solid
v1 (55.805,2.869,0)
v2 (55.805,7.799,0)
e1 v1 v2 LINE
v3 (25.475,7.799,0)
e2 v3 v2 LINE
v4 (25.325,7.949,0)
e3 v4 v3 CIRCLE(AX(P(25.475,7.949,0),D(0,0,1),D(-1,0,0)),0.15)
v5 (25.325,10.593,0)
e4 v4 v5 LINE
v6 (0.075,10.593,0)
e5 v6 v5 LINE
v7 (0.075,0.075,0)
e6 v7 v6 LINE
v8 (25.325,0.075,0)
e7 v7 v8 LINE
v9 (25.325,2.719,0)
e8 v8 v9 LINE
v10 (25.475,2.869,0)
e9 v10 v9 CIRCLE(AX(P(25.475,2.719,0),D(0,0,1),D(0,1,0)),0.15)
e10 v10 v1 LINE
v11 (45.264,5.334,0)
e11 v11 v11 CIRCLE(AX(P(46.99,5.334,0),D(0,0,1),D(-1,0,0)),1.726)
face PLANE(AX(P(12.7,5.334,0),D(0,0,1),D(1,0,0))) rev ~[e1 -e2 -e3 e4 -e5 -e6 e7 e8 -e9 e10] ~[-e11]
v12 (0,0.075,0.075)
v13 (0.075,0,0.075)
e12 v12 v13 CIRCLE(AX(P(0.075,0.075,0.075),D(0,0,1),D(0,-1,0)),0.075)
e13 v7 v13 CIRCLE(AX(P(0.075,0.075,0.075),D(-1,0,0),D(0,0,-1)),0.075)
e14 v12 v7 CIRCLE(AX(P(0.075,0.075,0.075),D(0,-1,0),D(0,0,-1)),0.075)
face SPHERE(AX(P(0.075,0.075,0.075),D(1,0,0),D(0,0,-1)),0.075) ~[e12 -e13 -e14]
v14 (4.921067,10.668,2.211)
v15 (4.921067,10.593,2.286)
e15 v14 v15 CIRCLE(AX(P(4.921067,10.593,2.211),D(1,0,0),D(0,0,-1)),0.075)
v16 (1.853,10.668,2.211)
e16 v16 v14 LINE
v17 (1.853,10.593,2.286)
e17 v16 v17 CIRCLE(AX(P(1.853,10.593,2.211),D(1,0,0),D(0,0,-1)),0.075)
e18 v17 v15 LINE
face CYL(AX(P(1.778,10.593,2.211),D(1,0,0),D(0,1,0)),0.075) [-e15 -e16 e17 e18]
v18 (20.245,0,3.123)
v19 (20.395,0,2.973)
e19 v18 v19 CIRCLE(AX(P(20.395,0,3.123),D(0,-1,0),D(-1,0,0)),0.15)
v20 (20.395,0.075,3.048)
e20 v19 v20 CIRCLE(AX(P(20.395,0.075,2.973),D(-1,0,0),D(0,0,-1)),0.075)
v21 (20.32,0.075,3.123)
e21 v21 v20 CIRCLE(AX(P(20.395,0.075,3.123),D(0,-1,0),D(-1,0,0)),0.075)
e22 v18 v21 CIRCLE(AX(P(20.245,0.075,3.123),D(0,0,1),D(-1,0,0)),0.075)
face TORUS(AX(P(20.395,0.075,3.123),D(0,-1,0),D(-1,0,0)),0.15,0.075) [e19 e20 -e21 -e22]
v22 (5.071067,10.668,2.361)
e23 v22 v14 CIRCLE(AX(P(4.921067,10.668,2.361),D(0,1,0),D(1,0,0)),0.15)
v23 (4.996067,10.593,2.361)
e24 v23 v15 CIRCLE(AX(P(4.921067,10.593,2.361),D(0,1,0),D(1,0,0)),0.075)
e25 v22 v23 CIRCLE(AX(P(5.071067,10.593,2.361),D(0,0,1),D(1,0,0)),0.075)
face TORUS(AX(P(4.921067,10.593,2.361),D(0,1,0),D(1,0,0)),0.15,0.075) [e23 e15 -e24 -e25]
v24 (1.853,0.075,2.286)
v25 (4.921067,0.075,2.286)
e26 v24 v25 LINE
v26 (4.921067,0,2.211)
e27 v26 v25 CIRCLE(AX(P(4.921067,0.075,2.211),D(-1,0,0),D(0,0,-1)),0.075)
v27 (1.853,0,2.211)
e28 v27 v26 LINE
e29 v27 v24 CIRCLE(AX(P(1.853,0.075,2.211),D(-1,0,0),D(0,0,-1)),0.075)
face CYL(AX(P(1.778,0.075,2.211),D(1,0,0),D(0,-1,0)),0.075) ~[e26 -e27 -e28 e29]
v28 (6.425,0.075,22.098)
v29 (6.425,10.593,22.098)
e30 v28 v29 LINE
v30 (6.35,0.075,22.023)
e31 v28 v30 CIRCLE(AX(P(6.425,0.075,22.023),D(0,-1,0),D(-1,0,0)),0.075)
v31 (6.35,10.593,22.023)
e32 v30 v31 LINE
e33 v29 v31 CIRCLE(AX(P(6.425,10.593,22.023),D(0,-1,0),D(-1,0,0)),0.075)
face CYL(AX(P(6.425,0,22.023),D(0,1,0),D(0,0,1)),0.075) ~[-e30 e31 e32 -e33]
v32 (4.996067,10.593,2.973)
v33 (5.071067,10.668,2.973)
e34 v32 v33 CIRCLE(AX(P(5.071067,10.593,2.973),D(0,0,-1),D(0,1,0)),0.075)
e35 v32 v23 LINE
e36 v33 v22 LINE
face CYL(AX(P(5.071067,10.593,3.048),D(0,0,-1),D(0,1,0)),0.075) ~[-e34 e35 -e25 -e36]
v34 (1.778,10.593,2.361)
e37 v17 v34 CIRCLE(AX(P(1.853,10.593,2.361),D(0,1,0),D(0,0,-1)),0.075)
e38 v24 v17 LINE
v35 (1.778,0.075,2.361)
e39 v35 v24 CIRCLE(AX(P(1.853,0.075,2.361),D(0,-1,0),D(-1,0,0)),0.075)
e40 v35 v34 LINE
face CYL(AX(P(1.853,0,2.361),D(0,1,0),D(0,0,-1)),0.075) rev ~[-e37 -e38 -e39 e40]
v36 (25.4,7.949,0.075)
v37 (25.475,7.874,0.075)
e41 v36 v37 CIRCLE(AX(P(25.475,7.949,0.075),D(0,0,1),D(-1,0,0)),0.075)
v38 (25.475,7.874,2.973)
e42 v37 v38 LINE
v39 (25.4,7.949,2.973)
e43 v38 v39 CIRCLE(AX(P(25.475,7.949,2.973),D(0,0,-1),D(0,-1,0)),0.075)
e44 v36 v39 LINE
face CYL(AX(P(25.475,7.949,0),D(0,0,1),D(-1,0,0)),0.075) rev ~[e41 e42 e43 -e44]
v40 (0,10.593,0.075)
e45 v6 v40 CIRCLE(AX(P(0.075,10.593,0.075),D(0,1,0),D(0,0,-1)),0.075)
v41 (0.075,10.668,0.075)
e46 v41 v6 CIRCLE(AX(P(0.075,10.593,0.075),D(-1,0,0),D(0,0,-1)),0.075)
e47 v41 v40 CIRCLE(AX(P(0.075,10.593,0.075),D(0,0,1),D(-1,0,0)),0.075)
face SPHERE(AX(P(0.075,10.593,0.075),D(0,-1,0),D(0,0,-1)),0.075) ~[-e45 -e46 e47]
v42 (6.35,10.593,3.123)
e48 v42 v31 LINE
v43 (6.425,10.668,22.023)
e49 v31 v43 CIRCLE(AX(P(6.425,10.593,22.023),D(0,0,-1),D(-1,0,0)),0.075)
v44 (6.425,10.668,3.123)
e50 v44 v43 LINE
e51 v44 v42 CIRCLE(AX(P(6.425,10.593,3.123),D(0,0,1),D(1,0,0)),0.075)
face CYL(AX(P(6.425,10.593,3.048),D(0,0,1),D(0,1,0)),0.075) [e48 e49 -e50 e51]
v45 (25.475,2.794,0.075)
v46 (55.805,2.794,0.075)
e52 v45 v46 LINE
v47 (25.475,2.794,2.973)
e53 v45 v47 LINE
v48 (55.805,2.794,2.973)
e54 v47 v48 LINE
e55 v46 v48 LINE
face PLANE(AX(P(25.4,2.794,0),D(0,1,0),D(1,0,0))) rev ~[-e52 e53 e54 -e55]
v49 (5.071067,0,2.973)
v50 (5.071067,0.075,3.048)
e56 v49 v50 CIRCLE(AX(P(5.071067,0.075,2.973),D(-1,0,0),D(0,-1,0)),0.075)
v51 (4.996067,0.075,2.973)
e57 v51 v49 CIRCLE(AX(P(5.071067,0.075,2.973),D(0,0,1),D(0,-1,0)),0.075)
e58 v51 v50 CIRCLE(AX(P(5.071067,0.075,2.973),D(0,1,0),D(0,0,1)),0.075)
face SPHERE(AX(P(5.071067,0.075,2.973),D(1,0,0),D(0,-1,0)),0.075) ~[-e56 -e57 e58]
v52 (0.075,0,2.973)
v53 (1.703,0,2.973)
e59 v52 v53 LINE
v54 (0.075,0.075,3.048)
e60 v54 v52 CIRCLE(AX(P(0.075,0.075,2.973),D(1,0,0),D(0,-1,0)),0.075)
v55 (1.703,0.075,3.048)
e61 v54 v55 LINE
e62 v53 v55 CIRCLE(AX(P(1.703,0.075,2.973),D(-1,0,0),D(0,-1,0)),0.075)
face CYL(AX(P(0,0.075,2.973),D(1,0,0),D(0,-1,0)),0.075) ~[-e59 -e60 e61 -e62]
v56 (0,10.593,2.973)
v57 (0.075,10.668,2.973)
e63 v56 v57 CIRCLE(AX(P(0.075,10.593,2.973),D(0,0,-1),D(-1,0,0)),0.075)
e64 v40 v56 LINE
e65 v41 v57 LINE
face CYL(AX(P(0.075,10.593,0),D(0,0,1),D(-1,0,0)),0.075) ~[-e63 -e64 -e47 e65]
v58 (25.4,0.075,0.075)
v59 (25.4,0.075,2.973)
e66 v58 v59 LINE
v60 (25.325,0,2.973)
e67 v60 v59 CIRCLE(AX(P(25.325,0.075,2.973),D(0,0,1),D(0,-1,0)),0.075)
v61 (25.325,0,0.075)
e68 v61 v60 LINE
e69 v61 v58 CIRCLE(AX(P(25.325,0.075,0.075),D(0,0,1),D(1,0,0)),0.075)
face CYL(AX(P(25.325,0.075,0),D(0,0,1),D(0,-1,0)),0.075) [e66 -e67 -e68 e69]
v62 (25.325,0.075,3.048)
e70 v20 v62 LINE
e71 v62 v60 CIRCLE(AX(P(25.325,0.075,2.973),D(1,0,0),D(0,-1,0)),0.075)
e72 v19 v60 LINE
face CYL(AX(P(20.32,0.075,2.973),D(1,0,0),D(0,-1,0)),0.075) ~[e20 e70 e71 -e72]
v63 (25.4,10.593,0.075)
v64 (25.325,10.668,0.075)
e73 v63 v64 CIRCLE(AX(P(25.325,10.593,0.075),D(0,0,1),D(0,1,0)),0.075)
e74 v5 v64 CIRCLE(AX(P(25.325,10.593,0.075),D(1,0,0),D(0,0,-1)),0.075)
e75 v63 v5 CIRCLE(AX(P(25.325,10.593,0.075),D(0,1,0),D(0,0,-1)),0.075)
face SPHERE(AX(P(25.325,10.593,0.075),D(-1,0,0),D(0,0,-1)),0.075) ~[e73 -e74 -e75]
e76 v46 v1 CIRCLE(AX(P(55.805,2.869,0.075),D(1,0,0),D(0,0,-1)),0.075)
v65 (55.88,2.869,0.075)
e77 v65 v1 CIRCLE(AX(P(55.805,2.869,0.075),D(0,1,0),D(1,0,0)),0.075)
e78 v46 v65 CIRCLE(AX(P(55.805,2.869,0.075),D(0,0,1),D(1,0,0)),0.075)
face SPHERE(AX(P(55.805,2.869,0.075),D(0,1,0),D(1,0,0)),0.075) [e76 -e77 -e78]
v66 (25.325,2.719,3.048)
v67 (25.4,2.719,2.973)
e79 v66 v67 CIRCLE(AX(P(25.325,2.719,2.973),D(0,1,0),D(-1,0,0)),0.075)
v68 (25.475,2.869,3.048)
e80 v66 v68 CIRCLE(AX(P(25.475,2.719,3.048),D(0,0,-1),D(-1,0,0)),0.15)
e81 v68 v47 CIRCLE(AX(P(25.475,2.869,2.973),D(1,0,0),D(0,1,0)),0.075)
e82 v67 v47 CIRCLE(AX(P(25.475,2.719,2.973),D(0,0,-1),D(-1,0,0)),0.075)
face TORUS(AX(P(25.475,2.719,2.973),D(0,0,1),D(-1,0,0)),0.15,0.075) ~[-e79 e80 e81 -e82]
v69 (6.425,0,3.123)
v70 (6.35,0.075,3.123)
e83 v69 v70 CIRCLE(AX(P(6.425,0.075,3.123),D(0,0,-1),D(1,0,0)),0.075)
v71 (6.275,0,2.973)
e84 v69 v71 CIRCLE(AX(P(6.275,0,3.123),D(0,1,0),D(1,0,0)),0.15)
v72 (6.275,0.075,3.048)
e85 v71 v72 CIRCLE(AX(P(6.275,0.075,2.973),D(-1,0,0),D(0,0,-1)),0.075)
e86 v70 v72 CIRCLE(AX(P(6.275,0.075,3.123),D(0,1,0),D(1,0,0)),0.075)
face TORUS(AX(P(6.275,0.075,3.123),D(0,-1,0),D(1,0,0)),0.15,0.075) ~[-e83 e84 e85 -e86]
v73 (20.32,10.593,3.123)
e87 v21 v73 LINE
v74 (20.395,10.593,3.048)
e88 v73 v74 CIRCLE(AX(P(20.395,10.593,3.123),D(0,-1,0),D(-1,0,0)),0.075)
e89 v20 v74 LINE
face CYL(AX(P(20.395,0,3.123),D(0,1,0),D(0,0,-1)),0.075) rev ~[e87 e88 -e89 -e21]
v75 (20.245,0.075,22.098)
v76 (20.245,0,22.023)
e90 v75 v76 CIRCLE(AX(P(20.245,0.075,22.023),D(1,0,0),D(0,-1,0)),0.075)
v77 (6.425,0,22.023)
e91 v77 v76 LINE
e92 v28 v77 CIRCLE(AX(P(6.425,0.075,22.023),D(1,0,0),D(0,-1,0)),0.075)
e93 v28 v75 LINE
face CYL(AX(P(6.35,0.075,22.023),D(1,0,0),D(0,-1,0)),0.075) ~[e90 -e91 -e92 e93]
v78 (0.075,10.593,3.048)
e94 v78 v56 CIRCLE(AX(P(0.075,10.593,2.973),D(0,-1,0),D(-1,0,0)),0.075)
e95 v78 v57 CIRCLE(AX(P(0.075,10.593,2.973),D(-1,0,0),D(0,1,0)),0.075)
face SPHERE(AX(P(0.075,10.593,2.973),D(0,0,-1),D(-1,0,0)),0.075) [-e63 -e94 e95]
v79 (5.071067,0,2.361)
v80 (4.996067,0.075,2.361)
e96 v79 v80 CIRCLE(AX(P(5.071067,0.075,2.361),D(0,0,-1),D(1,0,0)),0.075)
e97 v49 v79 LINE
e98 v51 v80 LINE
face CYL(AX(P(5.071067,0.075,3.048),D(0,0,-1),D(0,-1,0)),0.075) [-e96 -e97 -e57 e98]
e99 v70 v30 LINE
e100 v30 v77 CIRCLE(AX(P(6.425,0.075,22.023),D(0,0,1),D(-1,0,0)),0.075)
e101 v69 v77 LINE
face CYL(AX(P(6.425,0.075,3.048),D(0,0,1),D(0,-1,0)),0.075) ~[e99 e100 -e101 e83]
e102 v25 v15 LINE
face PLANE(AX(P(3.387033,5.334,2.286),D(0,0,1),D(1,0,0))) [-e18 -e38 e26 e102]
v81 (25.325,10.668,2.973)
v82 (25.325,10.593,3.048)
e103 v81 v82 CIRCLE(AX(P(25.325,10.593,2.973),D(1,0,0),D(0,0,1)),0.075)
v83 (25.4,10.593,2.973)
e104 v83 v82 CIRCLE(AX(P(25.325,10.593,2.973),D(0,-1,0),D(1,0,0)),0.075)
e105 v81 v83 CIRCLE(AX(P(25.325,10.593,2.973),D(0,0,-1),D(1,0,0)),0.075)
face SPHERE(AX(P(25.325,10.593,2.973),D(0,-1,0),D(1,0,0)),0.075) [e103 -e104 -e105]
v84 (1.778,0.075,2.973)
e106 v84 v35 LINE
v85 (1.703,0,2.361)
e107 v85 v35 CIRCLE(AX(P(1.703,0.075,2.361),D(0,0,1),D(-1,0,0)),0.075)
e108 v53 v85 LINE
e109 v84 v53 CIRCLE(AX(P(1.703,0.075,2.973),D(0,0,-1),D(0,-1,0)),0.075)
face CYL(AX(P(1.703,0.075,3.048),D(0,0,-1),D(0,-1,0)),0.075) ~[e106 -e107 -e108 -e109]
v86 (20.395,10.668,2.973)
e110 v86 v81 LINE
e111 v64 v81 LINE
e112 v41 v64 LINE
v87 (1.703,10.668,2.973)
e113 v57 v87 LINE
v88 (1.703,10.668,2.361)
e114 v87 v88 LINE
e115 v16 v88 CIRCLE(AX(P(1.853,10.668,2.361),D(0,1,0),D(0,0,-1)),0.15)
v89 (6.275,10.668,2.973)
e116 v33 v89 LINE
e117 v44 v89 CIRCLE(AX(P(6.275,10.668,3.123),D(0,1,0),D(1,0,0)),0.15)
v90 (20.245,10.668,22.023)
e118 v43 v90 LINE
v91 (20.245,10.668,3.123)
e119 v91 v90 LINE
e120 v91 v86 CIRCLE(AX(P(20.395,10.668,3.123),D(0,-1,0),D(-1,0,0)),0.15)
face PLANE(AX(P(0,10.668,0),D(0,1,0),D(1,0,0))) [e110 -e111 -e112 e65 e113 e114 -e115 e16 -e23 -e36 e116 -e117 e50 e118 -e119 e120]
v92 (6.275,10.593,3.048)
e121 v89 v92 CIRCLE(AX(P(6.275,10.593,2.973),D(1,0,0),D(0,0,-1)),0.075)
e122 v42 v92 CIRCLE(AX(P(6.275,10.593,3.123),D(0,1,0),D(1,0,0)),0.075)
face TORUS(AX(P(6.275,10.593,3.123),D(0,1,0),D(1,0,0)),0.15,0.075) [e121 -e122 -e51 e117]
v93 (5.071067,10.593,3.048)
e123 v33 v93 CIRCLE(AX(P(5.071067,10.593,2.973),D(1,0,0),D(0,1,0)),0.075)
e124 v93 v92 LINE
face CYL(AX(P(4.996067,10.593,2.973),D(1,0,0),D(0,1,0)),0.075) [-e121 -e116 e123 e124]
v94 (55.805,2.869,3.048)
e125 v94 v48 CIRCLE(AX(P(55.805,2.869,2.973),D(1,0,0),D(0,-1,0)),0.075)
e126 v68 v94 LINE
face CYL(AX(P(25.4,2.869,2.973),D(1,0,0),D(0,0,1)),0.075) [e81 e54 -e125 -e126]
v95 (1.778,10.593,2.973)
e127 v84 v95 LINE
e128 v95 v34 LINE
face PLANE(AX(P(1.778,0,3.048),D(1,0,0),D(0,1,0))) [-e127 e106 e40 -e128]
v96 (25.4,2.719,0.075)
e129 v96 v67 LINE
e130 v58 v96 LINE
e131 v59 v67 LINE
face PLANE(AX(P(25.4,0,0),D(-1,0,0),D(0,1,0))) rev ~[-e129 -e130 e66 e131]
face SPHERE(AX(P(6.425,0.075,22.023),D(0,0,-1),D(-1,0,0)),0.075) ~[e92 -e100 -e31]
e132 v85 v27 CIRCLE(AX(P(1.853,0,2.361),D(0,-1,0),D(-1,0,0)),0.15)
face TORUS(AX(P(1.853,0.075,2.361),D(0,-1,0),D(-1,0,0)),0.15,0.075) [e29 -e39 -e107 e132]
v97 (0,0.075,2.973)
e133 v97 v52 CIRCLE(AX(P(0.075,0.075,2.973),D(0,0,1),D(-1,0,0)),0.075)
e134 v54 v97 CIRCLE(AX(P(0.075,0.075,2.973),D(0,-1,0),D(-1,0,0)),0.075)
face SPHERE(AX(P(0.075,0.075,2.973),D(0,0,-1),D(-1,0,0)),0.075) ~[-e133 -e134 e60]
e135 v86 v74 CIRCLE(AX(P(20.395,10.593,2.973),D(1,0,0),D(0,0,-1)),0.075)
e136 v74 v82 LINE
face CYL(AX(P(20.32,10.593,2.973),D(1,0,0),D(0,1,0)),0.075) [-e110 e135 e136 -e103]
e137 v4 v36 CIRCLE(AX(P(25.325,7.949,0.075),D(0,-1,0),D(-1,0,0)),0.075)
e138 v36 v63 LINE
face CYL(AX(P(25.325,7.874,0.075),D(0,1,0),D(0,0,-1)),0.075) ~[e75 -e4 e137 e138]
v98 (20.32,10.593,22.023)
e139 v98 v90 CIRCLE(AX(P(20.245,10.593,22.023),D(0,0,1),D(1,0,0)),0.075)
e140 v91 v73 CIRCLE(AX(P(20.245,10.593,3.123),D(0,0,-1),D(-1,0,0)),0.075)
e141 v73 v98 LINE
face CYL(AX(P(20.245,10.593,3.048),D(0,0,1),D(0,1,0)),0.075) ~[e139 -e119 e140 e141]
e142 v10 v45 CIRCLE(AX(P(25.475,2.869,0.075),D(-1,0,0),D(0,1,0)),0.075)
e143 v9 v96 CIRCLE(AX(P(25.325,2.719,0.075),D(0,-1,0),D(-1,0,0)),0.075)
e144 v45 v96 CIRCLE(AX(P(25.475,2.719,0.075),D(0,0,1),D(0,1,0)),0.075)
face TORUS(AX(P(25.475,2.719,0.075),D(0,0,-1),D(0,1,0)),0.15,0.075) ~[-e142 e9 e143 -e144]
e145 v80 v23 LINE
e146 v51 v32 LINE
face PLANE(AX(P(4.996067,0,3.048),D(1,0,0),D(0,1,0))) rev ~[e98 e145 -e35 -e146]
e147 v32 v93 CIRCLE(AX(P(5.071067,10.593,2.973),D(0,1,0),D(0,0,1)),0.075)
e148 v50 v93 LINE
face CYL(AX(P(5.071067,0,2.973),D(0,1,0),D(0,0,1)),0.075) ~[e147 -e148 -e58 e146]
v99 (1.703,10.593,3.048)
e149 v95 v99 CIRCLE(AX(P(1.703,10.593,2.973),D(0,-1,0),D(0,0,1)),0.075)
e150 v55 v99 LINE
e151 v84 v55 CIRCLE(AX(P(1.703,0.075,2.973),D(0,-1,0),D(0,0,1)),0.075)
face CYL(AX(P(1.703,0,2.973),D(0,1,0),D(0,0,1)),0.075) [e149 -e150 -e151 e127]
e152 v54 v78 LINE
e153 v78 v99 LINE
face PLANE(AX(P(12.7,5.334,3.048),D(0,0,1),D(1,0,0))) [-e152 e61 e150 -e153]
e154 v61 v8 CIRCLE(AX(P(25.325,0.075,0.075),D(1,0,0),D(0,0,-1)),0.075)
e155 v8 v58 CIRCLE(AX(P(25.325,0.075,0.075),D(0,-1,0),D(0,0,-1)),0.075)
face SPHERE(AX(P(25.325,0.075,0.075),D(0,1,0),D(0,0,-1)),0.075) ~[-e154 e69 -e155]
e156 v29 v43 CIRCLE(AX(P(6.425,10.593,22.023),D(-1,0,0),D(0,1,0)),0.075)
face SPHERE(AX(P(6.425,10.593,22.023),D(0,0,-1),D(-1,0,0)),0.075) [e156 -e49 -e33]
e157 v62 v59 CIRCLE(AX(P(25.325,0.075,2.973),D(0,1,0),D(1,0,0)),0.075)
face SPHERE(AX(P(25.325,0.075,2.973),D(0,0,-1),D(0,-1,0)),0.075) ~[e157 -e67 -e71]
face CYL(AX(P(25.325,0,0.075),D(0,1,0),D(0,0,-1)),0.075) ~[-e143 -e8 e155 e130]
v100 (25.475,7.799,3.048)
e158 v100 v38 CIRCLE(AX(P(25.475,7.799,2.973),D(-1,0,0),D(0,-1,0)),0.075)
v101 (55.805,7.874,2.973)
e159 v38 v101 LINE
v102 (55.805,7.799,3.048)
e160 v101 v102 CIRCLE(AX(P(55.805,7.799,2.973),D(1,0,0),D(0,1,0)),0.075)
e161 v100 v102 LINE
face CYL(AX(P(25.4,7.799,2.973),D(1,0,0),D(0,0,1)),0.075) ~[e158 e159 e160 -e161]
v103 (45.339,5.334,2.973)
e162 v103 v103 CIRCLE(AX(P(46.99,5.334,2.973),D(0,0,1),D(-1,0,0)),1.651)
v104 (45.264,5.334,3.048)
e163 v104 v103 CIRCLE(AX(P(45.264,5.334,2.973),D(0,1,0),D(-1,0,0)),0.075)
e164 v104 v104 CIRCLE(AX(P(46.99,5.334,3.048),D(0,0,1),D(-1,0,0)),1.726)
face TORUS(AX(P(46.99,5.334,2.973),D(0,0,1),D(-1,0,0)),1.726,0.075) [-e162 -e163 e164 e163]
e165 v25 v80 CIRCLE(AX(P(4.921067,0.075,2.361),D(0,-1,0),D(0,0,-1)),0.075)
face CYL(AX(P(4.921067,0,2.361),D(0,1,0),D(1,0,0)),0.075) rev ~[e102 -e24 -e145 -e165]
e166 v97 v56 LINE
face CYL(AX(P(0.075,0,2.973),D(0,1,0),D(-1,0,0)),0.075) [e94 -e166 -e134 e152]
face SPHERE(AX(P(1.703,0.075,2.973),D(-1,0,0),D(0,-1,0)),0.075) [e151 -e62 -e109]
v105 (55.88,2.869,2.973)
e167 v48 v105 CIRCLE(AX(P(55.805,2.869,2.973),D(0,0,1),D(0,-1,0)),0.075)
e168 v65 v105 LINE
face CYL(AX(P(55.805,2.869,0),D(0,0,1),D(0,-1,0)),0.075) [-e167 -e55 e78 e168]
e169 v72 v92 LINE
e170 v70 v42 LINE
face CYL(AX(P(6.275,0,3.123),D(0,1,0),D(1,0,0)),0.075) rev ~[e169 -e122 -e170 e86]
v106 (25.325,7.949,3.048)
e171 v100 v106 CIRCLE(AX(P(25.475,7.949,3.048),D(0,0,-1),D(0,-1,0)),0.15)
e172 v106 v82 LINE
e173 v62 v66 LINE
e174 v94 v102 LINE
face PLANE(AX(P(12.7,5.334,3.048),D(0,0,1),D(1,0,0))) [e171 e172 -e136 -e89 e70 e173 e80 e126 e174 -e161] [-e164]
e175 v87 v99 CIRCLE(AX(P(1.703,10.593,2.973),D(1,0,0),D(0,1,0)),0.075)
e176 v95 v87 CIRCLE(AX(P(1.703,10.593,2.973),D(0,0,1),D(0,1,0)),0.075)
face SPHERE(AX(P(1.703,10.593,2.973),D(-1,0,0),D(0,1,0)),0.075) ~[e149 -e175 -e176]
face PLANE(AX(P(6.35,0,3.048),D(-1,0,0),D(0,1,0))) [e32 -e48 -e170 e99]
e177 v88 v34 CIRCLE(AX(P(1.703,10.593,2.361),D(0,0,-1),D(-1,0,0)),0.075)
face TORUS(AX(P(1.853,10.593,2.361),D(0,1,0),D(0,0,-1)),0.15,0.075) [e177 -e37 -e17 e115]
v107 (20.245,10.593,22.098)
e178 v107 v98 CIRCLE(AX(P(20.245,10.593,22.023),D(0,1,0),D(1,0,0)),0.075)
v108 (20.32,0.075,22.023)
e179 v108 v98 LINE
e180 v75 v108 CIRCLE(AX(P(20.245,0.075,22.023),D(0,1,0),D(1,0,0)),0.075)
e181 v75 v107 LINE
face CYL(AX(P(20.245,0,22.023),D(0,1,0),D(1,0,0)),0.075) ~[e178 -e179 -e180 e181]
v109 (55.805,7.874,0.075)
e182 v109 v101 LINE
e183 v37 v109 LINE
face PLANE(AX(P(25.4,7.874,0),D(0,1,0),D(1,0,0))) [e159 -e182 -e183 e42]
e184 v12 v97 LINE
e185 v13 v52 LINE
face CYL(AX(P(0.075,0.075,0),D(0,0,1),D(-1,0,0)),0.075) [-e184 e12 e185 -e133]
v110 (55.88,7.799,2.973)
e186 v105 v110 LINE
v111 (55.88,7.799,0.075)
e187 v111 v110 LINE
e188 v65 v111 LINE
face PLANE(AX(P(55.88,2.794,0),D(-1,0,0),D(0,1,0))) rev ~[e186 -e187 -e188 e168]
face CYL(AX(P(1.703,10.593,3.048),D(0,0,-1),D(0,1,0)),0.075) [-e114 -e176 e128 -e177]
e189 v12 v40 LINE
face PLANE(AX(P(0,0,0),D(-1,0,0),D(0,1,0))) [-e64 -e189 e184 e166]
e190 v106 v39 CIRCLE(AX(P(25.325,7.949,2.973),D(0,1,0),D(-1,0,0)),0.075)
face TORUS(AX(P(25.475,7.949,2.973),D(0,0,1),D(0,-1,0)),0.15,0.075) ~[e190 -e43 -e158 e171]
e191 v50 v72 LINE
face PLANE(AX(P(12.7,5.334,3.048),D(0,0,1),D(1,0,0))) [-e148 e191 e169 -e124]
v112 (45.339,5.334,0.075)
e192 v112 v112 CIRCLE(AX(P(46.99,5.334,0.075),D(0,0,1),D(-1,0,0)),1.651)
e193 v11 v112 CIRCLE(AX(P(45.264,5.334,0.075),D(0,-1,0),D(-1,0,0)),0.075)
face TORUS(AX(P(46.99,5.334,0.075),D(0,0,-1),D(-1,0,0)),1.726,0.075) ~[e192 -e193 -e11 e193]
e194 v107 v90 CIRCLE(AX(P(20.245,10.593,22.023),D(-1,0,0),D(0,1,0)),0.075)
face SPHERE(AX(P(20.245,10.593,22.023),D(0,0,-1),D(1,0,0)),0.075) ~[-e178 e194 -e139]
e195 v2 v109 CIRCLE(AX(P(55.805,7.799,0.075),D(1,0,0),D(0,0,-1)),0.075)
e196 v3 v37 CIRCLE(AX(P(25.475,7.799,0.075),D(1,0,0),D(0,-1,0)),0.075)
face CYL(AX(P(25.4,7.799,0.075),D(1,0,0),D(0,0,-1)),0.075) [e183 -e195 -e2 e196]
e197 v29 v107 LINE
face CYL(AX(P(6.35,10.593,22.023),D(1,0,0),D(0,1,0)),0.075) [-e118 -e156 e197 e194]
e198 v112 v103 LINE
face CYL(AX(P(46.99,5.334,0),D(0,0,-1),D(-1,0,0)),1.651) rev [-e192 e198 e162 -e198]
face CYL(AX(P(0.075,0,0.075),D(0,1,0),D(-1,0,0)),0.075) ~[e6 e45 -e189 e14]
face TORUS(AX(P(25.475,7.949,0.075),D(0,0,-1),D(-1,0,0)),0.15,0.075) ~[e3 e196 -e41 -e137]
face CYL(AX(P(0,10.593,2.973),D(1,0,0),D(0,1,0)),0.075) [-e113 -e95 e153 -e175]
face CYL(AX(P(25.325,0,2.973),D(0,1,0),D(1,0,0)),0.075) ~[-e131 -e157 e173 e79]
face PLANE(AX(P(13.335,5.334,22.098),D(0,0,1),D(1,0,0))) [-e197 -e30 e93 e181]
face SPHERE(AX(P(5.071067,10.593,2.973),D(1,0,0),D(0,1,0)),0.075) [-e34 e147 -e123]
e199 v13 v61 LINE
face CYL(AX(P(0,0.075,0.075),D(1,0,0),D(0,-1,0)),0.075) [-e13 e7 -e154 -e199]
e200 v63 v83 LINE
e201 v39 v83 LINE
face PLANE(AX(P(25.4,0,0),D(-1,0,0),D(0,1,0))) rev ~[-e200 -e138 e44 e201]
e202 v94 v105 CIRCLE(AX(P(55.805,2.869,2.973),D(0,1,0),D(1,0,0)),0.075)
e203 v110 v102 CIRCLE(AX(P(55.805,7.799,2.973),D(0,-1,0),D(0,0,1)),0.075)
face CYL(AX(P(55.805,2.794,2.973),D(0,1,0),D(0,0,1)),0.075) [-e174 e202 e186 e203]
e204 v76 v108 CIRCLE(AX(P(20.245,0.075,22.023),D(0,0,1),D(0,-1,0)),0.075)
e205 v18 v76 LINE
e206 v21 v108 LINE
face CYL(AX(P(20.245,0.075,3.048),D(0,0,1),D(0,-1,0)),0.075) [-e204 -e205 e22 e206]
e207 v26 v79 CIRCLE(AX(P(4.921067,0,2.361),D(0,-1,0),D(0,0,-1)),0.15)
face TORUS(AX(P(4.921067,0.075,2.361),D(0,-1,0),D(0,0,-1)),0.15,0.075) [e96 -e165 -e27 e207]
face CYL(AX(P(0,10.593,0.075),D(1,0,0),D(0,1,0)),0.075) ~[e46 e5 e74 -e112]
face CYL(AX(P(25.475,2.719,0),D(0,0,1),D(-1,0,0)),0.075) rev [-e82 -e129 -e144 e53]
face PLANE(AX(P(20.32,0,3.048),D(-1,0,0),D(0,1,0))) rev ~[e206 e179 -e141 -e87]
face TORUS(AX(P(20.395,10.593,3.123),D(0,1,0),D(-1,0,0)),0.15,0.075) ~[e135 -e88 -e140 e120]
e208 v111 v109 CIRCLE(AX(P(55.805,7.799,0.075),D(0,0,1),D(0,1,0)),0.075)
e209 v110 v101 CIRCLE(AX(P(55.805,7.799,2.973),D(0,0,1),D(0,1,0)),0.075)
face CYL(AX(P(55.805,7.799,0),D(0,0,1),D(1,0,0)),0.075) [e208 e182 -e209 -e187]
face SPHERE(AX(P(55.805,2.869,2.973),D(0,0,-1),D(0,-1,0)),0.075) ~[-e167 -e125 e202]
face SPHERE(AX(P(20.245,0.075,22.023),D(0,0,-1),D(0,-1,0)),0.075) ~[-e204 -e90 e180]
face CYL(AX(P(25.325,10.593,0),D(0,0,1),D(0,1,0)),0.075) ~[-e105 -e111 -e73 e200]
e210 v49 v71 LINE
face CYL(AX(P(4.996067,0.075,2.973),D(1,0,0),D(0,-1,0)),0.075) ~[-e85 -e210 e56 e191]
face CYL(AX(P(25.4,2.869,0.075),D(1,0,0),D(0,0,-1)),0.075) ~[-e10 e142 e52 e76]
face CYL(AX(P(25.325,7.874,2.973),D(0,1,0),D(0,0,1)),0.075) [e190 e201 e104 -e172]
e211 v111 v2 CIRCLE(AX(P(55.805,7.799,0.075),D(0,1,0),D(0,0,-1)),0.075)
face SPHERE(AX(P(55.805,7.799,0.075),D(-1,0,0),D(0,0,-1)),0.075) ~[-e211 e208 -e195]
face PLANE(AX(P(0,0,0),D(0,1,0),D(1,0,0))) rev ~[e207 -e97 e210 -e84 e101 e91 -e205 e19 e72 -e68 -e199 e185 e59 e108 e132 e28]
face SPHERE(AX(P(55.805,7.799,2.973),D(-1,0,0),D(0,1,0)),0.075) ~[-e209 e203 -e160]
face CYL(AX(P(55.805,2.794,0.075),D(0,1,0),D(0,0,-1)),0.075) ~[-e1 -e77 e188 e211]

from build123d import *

# Parameters (mm, degrees)
SKETCH1_W           = 30.48
SKETCH1_H           = 5.08
SKETCH1_R           = 1.651
SKETCH1_W_2         = 25.4
SKETCH1_H_2         = 10.668
BOSS_EXTRUDE1_DEPTH = 3.048
SKETCH2_W           = 13.97
SKETCH2_H           = 10.668
BOSS_EXTRUDE2_DEPTH = 19.05
SKETCH3_W           = 3.218066788
SKETCH3_H           = 10.668
CUT_EXTRUDE1_DEPTH  = 0.762
FILLET1_R           = 0.075


with BuildPart() as part:
    # Sketch1 → Boss-Extrude1 (new body)
    # profile 1 of 2: a face of its own
    with BuildSketch(Plane.XY):
        with Locations((40.64, 5.334)):
            Rectangle(SKETCH1_W, SKETCH1_H)
        with Locations(Location((46.99, 5.334, 0), (0, 0, 180))):
            Circle(SKETCH1_R, mode=Mode.SUBTRACT)
    # profile 2 of 2: a face of its own
    with BuildSketch(Plane.XY):
        with Locations((12.7, 5.334)):
            Rectangle(SKETCH1_W_2, SKETCH1_H_2)
    extrude(amount=BOSS_EXTRUDE1_DEPTH)

    # Sketch2 → Boss-Extrude2 (add)
    with BuildSketch(Plane.XY.offset(3.048)):
        with Locations((13.335, 5.334)):
            Rectangle(SKETCH2_W, SKETCH2_H)
    extrude(amount=BOSS_EXTRUDE2_DEPTH)

    # Sketch3 → Cut-Extrude1 (cut)
    with BuildSketch(Plane.XY.offset(3.048)):
        with Locations((3.387033394, 5.334)):
            Rectangle(SKETCH3_W, SKETCH3_H)
    extrude(amount=-CUT_EXTRUDE1_DEPTH, mode=Mode.SUBTRACT)

    # Fillet1
    fillet1_edges = [part.edges().sort_by_distance(p)[0] for p in [
        (25.4, 1.397, 0),
        (12.7, 0, 0),
        (0, 5.334, 0),
        (12.7, 10.668, 0),
        (25.4, 9.271, 0),
        (40.64, 7.874, 3.048),
        (40.64, 7.874, 0),
        (55.88, 5.334, 0),
        (48.641, 5.334, 0),
        (25.4, 9.271, 3.048),
        (55.88, 2.794, 1.524),
        (25.4, 2.794, 1.524),
        (25.4, 0, 1.524),
        (0, 0, 1.524),
        (0, 10.668, 1.524),
        (25.4, 10.668, 1.524),
        (25.4, 7.874, 1.524),
        (55.88, 7.874, 1.524),
        (22.86, 10.668, 3.048),
        (0, 5.334, 3.048),
        (5.673033394, 10.668, 3.048),
        (5.673033394, 0, 3.048),
        (22.86, 0, 3.048),
        (6.35, 5.334, 3.048),
        (6.35, 10.668, 12.573),
        (6.35, 0, 12.573),
        (20.32, 5.334, 3.048),
        (20.32, 0, 12.573),
        (20.32, 10.668, 12.573),
        (6.35, 5.334, 22.098),
        (13.335, 0, 22.098),
        (20.32, 5.334, 22.098),
        (13.335, 10.668, 22.098),
        (25.4, 1.397, 3.048),
        (40.64, 2.794, 3.048),
        (0.889, 0, 3.048),
        (0.889, 10.668, 3.048),
        (1.778, 5.334, 2.286),
        (1.778, 0, 2.667),
        (3.387033394, 10.668, 2.286),
        (1.778, 10.668, 2.667),
        (4.996066788, 5.334, 2.286),
        (4.996066788, 10.668, 2.667),
        (3.387033394, 0, 2.286),
        (4.996066788, 0, 2.667),
        (1.778, 5.334, 3.048),
        (4.996066788, 5.334, 3.048),
        (48.641, 5.334, 3.048),
        (55.88, 5.334, 3.048),
        (40.64, 2.794, 0),
    ]]
    fillet(fillet1_edges, radius=FILLET1_R)


solid = part.part
